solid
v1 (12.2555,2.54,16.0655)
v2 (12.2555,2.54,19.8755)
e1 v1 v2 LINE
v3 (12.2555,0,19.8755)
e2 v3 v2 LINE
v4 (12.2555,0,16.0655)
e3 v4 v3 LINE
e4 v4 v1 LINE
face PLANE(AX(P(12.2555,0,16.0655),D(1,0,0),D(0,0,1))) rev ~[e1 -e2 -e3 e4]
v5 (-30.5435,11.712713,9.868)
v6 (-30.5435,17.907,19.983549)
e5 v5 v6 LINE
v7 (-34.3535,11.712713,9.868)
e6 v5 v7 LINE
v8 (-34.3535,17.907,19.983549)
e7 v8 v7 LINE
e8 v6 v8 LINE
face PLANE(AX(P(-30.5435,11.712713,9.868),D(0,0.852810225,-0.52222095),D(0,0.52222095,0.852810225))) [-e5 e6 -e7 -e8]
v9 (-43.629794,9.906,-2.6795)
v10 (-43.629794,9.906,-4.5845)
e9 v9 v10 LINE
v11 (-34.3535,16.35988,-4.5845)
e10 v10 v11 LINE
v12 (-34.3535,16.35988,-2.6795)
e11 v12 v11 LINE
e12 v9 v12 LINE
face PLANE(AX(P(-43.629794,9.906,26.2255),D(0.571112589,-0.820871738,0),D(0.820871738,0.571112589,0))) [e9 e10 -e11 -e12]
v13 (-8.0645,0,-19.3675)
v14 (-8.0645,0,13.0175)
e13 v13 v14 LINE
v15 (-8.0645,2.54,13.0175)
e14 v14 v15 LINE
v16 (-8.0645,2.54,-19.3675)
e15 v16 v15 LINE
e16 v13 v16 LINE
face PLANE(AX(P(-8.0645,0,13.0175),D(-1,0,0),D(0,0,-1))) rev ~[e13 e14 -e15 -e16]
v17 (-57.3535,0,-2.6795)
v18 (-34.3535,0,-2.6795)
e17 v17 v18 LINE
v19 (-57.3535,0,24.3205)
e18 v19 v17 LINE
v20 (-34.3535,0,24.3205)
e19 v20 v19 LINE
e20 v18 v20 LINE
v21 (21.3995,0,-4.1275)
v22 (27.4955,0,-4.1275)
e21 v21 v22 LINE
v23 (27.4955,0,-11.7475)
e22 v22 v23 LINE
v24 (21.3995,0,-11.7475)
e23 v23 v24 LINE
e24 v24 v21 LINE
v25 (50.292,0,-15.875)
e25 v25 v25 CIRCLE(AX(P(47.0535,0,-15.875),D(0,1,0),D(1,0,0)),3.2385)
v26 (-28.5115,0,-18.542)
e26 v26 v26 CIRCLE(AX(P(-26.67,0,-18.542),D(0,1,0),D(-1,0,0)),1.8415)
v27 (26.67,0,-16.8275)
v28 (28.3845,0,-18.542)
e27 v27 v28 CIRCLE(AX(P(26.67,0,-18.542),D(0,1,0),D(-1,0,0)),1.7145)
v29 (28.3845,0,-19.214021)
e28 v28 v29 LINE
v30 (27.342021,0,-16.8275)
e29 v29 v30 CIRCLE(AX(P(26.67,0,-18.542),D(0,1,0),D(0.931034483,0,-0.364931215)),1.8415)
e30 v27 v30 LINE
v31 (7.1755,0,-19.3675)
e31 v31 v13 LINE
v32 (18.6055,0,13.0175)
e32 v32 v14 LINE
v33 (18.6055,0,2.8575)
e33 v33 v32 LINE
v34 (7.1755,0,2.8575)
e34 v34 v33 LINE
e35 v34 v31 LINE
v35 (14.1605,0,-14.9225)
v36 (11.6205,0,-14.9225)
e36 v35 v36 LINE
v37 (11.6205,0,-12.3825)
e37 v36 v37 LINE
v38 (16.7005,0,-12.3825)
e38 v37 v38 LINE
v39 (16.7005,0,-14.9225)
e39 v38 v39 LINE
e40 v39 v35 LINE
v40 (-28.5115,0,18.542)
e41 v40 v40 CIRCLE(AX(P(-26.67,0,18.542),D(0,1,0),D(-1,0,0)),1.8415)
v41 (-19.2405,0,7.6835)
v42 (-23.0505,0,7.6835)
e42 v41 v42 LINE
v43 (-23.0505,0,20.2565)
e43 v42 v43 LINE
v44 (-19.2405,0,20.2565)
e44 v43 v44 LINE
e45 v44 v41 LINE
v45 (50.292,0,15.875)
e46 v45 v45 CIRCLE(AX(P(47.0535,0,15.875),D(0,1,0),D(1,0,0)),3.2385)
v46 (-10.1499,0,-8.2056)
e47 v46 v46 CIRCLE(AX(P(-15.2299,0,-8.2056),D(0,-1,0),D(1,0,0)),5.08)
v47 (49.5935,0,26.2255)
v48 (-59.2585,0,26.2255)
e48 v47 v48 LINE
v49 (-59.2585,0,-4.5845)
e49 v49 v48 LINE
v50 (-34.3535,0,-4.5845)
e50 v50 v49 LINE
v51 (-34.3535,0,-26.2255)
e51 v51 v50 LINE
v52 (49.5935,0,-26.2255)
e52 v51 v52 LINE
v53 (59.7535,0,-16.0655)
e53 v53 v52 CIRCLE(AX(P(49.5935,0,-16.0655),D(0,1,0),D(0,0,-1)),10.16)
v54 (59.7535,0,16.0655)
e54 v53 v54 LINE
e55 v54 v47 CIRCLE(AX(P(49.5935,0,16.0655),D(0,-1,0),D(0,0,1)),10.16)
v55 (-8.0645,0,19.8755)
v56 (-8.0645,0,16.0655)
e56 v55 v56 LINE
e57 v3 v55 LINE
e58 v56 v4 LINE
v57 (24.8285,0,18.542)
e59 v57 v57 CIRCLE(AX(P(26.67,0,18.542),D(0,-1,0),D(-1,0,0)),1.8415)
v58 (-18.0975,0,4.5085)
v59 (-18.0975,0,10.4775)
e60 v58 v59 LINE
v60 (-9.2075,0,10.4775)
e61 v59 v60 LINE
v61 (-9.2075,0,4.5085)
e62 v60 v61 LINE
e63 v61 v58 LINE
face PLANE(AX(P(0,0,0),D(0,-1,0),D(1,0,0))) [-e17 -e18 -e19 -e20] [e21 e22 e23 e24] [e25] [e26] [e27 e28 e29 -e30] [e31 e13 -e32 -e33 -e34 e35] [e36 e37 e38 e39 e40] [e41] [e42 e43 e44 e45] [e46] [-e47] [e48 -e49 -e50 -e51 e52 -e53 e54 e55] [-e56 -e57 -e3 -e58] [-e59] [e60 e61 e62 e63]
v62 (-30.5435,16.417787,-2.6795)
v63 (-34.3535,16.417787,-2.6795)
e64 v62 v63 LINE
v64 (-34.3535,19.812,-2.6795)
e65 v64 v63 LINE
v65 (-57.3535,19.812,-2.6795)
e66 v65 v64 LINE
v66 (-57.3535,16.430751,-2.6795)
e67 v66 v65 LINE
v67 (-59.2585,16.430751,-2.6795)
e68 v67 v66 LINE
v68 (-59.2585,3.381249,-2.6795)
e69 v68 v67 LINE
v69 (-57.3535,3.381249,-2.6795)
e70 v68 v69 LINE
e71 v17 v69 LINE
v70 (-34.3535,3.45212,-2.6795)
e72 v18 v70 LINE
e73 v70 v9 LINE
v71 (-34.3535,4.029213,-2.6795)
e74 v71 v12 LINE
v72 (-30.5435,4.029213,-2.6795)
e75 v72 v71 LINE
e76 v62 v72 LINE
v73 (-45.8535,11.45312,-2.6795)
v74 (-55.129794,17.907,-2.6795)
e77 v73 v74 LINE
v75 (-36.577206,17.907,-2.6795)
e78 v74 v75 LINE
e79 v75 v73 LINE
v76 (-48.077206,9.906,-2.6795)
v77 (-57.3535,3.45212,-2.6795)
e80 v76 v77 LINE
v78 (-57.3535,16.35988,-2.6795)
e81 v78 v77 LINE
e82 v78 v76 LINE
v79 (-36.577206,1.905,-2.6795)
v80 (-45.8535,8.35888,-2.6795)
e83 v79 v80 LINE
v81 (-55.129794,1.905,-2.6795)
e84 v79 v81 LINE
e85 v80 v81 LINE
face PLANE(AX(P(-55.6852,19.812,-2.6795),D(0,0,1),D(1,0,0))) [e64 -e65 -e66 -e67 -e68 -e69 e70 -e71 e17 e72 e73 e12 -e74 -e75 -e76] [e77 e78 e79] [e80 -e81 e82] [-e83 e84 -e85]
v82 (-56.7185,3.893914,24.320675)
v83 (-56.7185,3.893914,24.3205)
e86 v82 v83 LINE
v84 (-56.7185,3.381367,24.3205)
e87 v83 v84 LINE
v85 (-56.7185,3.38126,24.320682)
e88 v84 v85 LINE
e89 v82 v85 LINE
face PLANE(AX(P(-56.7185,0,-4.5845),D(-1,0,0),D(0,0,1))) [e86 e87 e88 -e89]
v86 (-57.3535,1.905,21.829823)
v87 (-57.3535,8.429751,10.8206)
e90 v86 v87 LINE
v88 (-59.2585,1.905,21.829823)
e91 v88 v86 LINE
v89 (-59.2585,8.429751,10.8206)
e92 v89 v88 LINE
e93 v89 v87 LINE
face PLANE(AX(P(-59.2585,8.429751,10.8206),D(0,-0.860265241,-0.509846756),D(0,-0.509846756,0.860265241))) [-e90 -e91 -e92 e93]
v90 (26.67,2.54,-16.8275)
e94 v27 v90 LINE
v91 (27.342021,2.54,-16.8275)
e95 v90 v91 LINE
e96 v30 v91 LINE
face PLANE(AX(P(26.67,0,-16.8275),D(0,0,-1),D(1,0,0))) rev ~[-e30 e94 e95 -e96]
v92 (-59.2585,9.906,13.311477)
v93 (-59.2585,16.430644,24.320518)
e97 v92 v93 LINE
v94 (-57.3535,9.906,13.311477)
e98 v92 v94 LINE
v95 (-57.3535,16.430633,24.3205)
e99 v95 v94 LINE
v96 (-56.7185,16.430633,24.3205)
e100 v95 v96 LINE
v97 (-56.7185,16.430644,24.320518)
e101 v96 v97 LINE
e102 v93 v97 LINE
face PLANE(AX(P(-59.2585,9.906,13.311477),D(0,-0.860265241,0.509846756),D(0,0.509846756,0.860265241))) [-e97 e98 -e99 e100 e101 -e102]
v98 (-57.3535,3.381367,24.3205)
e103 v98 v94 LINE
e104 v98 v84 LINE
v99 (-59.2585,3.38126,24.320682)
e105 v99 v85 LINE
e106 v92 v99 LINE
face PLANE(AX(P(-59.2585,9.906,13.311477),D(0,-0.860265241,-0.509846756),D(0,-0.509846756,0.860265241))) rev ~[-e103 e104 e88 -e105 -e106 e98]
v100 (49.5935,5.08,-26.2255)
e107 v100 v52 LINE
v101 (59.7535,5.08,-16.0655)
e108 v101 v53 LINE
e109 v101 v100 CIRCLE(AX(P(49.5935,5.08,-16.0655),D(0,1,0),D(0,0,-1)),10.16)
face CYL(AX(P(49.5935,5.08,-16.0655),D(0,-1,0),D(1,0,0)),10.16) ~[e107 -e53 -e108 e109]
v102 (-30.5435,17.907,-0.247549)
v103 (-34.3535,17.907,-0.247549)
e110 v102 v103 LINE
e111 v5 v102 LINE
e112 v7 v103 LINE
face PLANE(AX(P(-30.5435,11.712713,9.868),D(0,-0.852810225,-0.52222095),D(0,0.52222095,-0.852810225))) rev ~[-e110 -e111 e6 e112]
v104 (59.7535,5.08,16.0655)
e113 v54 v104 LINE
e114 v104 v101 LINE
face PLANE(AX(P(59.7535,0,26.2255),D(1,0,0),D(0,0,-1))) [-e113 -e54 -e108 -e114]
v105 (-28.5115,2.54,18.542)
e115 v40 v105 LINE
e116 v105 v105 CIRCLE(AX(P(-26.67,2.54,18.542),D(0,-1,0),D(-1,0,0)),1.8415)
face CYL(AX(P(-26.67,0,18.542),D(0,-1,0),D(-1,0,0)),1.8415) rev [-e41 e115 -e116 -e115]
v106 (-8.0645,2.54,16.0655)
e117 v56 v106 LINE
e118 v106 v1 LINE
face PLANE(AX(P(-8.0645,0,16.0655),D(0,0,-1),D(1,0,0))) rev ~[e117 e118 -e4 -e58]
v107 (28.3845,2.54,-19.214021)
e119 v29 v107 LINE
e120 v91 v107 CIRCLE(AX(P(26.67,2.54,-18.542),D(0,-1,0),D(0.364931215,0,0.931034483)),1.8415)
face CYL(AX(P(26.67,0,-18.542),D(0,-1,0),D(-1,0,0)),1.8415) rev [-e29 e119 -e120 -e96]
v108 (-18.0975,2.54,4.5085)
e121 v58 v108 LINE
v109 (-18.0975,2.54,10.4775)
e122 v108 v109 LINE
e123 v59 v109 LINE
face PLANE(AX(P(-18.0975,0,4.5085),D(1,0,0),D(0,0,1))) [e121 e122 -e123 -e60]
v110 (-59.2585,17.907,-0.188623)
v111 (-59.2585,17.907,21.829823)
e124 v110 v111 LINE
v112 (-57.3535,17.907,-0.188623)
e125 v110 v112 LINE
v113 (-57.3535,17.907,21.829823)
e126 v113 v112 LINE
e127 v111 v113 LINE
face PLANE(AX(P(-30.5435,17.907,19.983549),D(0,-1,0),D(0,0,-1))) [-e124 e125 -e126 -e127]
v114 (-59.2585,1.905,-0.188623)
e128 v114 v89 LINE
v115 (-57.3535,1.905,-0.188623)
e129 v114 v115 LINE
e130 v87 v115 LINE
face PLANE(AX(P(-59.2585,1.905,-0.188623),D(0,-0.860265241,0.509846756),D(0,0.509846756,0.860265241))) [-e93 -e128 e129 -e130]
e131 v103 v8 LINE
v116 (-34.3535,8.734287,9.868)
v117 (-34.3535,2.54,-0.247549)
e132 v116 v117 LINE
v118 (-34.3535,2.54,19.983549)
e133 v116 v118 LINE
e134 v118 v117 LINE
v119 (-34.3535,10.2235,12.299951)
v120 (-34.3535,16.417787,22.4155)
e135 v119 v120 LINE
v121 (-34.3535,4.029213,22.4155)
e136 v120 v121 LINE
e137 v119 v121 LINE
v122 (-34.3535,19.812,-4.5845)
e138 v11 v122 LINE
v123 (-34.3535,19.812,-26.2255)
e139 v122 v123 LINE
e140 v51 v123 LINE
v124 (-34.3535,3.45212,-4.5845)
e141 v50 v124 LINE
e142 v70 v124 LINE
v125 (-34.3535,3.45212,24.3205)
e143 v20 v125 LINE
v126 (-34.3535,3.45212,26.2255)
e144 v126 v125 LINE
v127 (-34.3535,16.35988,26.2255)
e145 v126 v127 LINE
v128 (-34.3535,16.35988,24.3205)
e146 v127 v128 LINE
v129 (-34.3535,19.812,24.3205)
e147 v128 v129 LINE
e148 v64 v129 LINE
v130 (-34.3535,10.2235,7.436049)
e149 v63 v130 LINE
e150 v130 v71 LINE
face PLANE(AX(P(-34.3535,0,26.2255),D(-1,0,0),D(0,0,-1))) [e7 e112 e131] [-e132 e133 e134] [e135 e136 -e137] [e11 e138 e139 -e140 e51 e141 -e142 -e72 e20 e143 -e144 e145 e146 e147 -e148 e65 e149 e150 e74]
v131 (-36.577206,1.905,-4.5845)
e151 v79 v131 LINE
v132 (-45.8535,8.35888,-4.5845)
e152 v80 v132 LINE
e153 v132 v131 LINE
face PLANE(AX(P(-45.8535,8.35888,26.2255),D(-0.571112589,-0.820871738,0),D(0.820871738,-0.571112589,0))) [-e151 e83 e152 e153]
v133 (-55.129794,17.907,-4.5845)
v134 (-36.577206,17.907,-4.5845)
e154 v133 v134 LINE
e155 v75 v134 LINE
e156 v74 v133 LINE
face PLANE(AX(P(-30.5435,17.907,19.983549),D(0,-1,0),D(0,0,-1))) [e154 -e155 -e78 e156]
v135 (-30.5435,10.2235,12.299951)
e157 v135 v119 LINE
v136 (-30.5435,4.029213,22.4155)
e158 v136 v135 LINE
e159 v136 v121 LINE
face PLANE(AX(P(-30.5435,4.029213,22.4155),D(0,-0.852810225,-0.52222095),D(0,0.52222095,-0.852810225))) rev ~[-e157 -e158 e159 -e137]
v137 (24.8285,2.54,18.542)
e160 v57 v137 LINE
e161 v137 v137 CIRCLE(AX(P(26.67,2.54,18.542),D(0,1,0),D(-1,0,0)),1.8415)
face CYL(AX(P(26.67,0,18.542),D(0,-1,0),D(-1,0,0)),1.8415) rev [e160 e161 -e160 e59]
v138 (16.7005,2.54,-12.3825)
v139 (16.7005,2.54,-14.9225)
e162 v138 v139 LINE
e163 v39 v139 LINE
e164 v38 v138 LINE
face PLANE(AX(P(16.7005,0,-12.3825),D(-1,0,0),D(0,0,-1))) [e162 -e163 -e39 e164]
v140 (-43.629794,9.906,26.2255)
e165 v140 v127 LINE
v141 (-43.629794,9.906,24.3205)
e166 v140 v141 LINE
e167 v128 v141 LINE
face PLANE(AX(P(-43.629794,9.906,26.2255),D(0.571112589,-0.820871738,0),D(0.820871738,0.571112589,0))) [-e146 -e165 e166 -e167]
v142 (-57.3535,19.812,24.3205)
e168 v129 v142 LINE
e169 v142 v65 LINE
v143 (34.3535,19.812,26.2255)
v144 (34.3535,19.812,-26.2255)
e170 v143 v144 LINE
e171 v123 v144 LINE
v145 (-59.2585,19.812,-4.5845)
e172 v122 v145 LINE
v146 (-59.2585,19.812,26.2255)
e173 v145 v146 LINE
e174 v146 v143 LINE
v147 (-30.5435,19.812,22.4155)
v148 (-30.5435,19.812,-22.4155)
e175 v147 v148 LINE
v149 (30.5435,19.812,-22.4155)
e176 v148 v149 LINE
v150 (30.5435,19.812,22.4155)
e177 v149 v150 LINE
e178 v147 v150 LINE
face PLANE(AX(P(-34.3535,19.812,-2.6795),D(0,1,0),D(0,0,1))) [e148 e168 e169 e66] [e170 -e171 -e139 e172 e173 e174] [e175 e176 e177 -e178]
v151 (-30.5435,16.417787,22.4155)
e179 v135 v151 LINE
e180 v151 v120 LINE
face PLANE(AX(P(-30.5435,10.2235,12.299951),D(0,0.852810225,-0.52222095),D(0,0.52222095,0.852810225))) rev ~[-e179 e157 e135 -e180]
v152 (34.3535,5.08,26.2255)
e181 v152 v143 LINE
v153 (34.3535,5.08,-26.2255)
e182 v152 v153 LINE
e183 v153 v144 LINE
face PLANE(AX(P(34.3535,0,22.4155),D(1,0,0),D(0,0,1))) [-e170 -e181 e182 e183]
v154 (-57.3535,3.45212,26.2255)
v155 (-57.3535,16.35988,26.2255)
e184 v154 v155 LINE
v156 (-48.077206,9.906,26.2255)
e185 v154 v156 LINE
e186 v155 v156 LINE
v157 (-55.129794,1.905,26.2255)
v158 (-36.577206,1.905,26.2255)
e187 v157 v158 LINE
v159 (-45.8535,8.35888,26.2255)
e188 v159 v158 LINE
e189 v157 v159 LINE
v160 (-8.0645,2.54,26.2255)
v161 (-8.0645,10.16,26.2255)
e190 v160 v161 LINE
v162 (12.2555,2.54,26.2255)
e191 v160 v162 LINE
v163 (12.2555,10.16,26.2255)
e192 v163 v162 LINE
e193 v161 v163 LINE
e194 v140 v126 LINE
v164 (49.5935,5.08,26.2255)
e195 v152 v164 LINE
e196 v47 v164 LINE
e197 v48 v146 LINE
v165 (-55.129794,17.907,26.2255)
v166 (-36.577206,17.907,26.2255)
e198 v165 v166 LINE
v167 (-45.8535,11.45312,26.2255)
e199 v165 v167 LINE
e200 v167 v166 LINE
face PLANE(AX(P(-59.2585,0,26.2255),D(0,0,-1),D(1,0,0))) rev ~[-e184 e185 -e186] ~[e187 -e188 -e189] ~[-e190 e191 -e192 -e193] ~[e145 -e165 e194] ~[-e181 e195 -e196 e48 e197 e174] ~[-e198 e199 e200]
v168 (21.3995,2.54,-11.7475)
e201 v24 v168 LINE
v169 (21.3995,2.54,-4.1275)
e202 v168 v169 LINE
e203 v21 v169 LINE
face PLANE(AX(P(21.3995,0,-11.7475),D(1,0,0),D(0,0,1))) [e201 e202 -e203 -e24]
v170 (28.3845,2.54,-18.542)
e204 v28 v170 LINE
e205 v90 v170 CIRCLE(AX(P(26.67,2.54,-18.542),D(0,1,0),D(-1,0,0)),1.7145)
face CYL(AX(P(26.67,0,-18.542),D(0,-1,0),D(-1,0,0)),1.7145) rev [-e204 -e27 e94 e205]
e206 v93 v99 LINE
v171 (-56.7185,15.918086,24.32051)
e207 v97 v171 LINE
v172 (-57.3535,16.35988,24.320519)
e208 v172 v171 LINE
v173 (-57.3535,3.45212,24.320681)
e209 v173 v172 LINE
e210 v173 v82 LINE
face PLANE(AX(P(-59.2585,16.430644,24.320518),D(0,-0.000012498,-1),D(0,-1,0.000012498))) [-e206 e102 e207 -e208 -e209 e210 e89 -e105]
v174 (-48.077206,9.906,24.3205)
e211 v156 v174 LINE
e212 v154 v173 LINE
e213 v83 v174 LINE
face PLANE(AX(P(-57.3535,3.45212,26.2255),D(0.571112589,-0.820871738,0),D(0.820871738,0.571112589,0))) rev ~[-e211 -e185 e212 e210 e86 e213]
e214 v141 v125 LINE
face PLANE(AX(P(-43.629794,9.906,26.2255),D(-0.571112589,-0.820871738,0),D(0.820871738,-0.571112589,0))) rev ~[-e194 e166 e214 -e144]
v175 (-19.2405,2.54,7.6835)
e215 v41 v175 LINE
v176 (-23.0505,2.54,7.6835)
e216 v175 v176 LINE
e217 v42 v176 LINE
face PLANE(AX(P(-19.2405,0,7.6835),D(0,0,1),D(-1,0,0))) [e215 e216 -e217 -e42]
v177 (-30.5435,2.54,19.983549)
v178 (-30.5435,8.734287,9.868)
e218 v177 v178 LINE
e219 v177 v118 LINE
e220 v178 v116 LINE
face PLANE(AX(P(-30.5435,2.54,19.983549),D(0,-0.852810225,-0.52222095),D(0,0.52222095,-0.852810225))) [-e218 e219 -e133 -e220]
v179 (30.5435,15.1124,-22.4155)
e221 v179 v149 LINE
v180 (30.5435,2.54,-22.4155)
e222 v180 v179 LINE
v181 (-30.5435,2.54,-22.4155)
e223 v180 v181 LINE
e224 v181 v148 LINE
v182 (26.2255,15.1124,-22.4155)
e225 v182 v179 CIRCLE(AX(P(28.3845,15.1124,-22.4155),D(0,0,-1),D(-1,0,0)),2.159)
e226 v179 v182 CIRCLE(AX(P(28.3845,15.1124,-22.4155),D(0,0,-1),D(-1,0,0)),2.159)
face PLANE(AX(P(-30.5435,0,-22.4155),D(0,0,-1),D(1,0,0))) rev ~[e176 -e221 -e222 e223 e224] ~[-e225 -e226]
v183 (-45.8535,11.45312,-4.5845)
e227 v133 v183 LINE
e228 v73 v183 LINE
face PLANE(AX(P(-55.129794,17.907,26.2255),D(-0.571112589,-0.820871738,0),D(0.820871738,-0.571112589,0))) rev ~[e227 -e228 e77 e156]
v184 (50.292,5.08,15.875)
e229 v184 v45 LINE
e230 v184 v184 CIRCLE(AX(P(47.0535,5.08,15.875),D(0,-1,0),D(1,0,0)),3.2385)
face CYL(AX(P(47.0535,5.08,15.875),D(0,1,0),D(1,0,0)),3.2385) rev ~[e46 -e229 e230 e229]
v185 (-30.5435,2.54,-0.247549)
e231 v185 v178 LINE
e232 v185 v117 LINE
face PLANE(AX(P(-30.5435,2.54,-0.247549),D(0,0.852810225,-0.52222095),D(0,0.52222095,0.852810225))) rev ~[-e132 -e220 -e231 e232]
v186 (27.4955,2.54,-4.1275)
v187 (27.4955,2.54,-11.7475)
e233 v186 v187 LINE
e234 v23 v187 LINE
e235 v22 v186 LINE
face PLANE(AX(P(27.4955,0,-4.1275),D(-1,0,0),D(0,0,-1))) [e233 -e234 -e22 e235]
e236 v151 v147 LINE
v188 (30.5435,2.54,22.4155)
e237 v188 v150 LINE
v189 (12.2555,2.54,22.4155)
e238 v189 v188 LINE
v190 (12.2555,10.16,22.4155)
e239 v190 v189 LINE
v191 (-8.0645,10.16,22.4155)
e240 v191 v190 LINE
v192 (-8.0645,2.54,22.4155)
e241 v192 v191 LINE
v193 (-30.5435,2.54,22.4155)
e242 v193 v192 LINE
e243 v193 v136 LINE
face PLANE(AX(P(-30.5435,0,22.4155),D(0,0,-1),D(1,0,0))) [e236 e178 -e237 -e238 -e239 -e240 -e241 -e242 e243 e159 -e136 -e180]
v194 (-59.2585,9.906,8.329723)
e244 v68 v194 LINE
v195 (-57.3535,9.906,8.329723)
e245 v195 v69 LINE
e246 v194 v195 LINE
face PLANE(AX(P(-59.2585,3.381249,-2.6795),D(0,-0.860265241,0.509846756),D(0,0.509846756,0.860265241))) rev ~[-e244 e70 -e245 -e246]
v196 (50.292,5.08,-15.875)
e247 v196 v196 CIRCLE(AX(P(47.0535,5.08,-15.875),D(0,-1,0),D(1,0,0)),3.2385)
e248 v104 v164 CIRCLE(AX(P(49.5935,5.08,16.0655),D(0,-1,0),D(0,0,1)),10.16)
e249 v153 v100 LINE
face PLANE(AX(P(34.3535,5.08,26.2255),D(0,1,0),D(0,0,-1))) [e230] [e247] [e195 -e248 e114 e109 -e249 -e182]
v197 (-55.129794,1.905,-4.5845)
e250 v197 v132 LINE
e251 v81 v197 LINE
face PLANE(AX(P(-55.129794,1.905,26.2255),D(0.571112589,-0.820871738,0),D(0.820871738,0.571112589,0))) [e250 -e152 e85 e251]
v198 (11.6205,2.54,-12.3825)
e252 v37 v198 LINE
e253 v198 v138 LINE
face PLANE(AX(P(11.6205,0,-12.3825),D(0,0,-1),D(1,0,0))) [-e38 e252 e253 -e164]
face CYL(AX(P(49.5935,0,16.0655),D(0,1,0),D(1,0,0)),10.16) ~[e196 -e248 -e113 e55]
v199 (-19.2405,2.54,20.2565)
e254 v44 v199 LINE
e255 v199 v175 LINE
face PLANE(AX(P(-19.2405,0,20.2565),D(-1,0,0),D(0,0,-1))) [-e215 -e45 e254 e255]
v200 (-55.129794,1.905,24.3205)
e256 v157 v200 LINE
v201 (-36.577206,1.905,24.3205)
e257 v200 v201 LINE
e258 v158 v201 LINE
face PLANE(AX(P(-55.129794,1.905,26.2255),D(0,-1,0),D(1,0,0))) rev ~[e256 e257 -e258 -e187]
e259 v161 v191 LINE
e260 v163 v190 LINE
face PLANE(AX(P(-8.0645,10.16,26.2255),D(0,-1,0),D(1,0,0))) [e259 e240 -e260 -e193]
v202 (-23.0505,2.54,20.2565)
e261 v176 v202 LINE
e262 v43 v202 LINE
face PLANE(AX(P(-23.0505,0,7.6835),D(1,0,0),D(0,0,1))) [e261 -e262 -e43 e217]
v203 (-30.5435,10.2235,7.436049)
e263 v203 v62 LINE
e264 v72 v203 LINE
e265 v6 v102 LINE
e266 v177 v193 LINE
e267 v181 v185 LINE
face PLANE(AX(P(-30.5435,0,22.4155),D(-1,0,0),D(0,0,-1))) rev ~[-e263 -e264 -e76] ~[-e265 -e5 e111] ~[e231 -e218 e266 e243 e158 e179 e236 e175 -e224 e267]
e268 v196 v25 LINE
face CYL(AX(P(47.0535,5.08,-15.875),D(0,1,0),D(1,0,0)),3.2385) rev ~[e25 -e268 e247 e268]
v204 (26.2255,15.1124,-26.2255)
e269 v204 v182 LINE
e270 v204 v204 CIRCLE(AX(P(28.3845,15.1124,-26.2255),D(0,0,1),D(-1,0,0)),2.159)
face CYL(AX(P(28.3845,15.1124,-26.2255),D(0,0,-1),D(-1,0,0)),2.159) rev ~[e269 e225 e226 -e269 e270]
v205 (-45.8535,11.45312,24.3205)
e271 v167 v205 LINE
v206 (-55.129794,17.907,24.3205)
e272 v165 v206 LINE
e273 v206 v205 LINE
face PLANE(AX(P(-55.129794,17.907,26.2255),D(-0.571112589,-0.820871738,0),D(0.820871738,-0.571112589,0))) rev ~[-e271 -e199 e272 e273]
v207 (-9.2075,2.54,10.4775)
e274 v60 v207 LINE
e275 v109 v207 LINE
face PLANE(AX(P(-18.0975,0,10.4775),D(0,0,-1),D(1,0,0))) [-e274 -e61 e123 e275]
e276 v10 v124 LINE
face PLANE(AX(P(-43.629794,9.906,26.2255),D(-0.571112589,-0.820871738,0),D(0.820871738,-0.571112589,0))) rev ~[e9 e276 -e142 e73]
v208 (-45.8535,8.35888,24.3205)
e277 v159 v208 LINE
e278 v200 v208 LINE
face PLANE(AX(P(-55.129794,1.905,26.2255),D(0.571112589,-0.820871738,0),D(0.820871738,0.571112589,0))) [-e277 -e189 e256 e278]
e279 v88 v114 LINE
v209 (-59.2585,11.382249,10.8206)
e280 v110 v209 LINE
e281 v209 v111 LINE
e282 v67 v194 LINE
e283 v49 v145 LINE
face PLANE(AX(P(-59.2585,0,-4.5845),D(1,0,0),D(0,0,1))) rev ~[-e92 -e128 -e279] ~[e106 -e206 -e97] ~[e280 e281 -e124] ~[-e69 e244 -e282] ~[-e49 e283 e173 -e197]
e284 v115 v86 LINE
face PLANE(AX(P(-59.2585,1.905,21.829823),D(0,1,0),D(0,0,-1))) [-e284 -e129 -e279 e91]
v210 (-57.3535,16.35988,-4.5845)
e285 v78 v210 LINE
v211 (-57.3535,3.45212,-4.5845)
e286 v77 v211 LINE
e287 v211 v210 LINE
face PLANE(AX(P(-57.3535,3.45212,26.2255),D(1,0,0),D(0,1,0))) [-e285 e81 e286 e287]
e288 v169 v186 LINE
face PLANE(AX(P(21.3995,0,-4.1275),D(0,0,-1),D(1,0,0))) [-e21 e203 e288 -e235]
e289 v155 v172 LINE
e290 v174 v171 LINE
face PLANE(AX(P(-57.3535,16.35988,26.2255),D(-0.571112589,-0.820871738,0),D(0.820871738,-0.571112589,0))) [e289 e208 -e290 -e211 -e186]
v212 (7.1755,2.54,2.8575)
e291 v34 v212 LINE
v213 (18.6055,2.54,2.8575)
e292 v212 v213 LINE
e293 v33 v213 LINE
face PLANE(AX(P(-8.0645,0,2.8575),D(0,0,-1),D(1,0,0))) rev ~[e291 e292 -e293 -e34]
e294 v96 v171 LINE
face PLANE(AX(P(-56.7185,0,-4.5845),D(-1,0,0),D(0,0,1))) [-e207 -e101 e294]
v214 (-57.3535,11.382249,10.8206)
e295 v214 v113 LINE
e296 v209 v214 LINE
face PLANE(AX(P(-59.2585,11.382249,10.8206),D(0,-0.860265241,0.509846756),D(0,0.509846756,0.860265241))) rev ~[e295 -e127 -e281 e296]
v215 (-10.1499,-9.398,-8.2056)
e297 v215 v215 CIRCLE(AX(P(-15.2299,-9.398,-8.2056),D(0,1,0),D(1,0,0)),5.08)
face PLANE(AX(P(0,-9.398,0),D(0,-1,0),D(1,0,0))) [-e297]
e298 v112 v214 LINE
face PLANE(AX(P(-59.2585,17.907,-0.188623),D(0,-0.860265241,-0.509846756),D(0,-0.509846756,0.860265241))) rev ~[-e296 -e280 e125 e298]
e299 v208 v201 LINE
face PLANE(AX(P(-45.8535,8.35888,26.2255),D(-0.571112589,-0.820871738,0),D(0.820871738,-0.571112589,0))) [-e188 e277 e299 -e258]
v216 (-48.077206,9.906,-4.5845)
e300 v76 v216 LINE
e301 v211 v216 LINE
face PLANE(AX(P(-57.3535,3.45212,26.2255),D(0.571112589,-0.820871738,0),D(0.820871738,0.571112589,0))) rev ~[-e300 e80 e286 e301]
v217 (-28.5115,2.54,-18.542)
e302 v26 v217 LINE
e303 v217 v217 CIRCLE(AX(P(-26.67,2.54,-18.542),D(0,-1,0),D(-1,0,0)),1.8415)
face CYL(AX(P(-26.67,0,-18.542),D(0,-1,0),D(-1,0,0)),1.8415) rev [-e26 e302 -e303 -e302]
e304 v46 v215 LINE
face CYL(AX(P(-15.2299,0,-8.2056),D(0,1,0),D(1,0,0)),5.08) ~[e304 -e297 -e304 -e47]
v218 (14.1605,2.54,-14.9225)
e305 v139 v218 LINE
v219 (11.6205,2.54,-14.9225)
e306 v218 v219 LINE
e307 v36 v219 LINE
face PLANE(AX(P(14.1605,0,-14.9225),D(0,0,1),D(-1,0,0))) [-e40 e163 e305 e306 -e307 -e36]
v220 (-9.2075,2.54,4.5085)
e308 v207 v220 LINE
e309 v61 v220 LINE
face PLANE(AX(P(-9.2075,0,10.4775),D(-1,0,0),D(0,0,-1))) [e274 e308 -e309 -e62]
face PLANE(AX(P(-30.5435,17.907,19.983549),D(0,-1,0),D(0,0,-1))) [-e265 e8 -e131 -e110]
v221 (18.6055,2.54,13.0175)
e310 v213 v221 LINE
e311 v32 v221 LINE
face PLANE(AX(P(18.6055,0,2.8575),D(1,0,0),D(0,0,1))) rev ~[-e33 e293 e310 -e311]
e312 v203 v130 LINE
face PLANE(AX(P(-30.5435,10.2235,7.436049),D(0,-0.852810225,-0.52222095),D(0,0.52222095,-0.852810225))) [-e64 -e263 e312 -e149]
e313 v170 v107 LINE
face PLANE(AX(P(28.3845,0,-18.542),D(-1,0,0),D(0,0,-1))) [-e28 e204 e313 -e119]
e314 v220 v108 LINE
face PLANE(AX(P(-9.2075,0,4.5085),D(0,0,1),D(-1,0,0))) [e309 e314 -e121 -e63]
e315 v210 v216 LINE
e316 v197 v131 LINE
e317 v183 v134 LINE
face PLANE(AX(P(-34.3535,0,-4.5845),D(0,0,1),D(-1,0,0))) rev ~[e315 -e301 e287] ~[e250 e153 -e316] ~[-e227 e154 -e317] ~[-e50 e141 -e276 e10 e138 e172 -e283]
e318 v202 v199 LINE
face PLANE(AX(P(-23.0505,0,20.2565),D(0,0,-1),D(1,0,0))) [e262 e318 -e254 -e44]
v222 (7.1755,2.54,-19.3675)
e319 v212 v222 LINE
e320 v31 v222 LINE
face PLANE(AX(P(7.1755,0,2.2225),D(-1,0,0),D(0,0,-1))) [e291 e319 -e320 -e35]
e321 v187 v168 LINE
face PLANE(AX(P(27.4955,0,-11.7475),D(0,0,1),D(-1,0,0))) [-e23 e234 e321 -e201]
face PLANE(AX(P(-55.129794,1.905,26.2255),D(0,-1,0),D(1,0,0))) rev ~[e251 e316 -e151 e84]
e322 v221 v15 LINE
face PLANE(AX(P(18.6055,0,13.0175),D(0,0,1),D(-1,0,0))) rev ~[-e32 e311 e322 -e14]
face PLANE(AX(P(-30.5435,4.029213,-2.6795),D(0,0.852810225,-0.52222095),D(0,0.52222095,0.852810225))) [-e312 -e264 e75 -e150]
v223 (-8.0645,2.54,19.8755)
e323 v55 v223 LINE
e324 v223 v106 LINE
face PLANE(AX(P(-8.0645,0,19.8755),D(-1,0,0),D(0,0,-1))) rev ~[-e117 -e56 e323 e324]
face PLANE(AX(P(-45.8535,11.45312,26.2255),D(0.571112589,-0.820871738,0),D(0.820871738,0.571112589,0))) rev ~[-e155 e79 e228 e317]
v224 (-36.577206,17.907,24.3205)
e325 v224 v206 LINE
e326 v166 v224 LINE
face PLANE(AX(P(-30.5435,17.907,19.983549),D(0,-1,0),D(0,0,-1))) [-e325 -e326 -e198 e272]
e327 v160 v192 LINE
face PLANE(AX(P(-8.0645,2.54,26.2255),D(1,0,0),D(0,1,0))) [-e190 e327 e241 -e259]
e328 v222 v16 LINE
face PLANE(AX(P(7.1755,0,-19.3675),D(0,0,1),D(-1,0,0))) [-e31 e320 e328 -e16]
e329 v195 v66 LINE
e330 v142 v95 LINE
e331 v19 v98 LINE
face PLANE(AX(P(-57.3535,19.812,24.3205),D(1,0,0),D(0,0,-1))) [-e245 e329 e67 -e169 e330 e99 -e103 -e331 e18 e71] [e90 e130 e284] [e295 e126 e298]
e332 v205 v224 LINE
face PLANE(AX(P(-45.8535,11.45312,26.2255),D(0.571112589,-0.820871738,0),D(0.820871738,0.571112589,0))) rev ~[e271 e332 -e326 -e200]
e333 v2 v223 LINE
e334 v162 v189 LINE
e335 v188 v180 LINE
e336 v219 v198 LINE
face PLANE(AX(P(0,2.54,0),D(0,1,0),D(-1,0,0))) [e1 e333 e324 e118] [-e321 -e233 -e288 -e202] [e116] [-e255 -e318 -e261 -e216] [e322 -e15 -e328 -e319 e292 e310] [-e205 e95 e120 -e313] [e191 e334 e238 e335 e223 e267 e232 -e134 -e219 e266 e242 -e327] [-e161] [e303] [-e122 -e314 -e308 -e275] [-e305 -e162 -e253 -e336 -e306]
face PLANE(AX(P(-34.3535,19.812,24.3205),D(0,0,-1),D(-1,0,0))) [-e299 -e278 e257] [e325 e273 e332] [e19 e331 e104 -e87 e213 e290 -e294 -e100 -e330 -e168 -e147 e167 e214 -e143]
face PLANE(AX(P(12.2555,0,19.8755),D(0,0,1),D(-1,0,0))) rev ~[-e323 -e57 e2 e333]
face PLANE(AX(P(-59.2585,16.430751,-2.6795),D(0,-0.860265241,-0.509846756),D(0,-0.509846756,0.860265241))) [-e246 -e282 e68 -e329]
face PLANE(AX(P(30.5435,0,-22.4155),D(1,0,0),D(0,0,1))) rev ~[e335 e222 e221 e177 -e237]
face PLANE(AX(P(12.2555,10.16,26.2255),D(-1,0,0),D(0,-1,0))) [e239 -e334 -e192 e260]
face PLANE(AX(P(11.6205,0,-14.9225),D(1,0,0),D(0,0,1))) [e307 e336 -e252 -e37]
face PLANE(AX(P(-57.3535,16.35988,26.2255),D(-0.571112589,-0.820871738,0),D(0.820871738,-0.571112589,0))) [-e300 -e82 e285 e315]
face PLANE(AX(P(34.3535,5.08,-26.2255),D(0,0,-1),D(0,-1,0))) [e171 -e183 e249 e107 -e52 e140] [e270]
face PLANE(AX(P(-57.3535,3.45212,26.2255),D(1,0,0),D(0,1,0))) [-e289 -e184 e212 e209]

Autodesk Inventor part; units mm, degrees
ref_plane "YZ Plane" through (0, 0, 0) normal (1, 0, 0) x (0, 1, 0)
ref_plane "XZ Plane" through (0, 0, 0) normal (0, 1, 0) x (-1, 0, 0)
ref_plane "XY Plane" through (0, 0, 0) normal (0, 0, 1) x (1, 0, 0)
sketch "Sketch1" plane through (0, 0, 0) normal (0, 1, 0) x (-1, 0, 0)
  line L0 (-30.0355, 21.9075) -> (30.0355, 21.9075)
  line L1 (30.0355, 21.9075) -> (30.0355, -21.9075)
  line L2 (30.0355, -21.9075) -> (-30.0355, -21.9075)
  line L3 (-30.0355, -21.9075) -> (-30.0355, 21.9075)
  line L4 (-30.0355, 21.9075) -> (30.0355, -21.9075) construction
  line L5 (30.0355, 21.9075) -> (-30.0355, -21.9075) construction
  line L6 (-30.5435, -22.4155) -> (30.5435, -22.4155)
  line L7 (30.5435, -22.4155) -> (30.5435, 22.4155)
  line L8 (30.5435, 22.4155) -> (-30.5435, 22.4155)
  line L9 (-30.5435, 22.4155) -> (-30.5435, -22.4155)
  line L10 (-28.3845, -20.2565) -> (28.3845, -20.2565)
  line L11 (28.3845, -20.2565) -> (28.3845, 20.2565)
  line L12 (28.3845, 20.2565) -> (-28.3845, 20.2565)
  line L13 (-28.3845, 20.2565) -> (-28.3845, -20.2565)
  line L14 (28.3845, -20.2565) -> (24.9555, -20.2565)
  line L15 (24.9555, -20.2565) -> (24.9555, -16.8275)
  line L16 (24.9555, -16.8275) -> (28.3845, -16.8275)
  line L17 (28.3845, -16.8275) -> (28.3845, -20.2565)
  line L18 (-28.3845, -20.2565) -> (-24.9555, -20.2565)
  line L19 (-24.9555, -20.2565) -> (-24.9555, -16.8275)
  line L20 (-24.9555, -16.8275) -> (-28.3845, -16.8275)
  line L21 (-28.3845, -16.8275) -> (-28.3845, -20.2565)
  line L22 (28.3845, 20.2565) -> (24.9555, 20.2565)
  line L23 (24.9555, 20.2565) -> (24.9555, 16.8275)
  line L24 (24.9555, 16.8275) -> (28.3845, 16.8275)
  line L25 (28.3845, 16.8275) -> (28.3845, 20.2565)
  line L26 (-28.3845, 20.2565) -> (-24.9555, 20.2565)
  line L27 (-24.9555, 20.2565) -> (-24.9555, 16.8275)
  line L28 (-24.9555, 16.8275) -> (-28.3845, 16.8275)
  line L29 (-28.3845, 16.8275) -> (-28.3845, 20.2565)
  circle A0 centre (26.67, -18.542) radius 1.7145
  circle A1 centre (-26.67, -18.542) radius 1.7145
  circle A2 centre (-26.67, 18.542) radius 1.7145
  circle A3 centre (26.67, 18.542) radius 1.7145
  circle A4 centre (26.67, -18.542) radius 1.8415
  circle A5 centre (-26.67, -18.542) radius 1.8415
  circle A6 centre (-26.67, 18.542) radius 1.8415
  circle A7 centre (26.67, 18.542) radius 1.8415
  line L30 (-28.3845, -20.2565) -> (-28.3845, -10.0965)
  line L31 (-30.0355, -21.9075) -> (-30.0355, -11.7475)
  line L32 (-30.0355, -11.7475) -> (-27.4955, -11.7475)
  line L33 (-27.4955, -11.7475) -> (-21.3995, -11.7475)
  line L34 (-21.3995, -11.7475) -> (-21.3995, -4.1275)
  line L35 (-21.3995, -4.1275) -> (-27.4955, -4.1275)
  line L36 (-27.4955, -4.1275) -> (-27.4955, -11.7475)
  line L37 (-30.0355, -21.9075) -> (-14.1605, -21.9075)
  line L38 (-14.1605, -21.9075) -> (-14.1605, -13.6525)
  line L39 (-16.7005, -14.9225) -> (-11.6205, -14.9225)
  line L40 (-11.6205, -14.9225) -> (-11.6205, -12.3825)
  line L41 (-11.6205, -12.3825) -> (-16.7005, -12.3825)
  line L42 (-16.7005, -12.3825) -> (-16.7005, -14.9225)
  line L43 (-16.7005, -14.9225) -> (-11.6205, -12.3825) construction
  line L44 (-11.6205, -14.9225) -> (-16.7005, -12.3825) construction
  line L45 (-30.0355, -21.9075) -> (-7.1755, -21.9075)
  line L46 (-7.1755, -21.9075) -> (-7.1755, -19.3675)
  line L47 (-7.1755, -19.3675) -> (8.0645, -19.3675)
  line L48 (8.0645, -19.3675) -> (8.0645, 2.2225)
  line L49 (8.0645, 2.2225) -> (-7.1755, 2.2225)
  line L50 (-7.1755, 2.2225) -> (-7.1755, -19.3675)
  line L51 (-30.0355, 21.9075) -> (-18.6055, 21.9075)
  line L52 (-18.6055, 21.9075) -> (-18.6055, 13.0175)
  line L53 (-18.6055, 13.0175) -> (8.0645, 13.0175)
  line L54 (8.0645, 13.0175) -> (8.0645, 2.8575)
  line L55 (8.0645, 2.8575) -> (-18.6055, 2.8575)
  line L56 (-18.6055, 2.8575) -> (-18.6055, 13.0175)
  line L57 (-30.0355, 21.9075) -> (-12.2555, 21.9075)
  line L58 (-12.2555, 21.9075) -> (-12.2555, 19.8755)
  line L59 (-12.2555, 19.8755) -> (8.0645, 19.8755)
  line L60 (8.0645, 19.8755) -> (8.0645, 16.0655)
  line L61 (8.0645, 16.0655) -> (-12.2555, 16.0655)
  line L62 (-12.2555, 16.0655) -> (-12.2555, 19.8755)
  line L63 (30.0355, 21.9075) -> (23.0505, 21.9075)
  line L64 (23.0505, 21.9075) -> (19.2405, 21.9075)
  line L65 (19.2405, 21.9075) -> (19.2405, 7.6835)
  line L66 (19.2405, 7.6835) -> (23.0505, 7.6835)
  line L67 (23.0505, 7.6835) -> (23.0505, 21.9075)
  line L68 (30.0355, 21.9075) -> (18.0975, 21.9075)
  line L69 (18.0975, 21.9075) -> (18.0975, 10.4775)
  line L70 (18.0975, 10.4775) -> (9.2075, 10.4775)
  line L71 (9.2075, 10.4775) -> (9.2075, 4.5085)
  line L72 (9.2075, 4.5085) -> (18.0975, 4.5085)
  line L73 (18.0975, 4.5085) -> (18.0975, 10.4775)
  point P0 (0, 0)
  point P1 (-28.3845, -19.214)
  point P2 (-28.3845, -18.542)
  point P3 (-26.67, -16.8275)
  point P4 (-27.342, -16.8275)
  point P5 (23.0505, 20.2565)
  point P6 (19.2405, 20.2565)
  dimension "d0" = 60.071
  dimension "d1" = 43.815
  dimension "d2" = 0.508
  dimension "d3" = 1.651
  dimension "d4" = 3.429
  dimension "d5" = 3.429
  dimension "d6" = 3.429
  dimension "d7" = 3.429
  dimension "d8" = 3.429
  dimension "d9" = 3.683
  dimension "d10" = 3.683
  dimension "d11" = 3.683
  dimension "d12" = 3.683
  dimension "d18" = 10.16
  dimension "d19" = 10.16
  dimension "d20" = 2.54
  dimension "d21" = 6.096
  dimension "d22" = 7.62
  dimension "d23" = 15.875
  dimension "d24" = 8.255
  dimension "d25" = 5.08
  dimension "d26" = 2.54
  dimension "d27" = 22.86
  dimension "d28" = 2.54
  dimension "d29" = 15.24
  dimension "d30" = 21.59
  dimension "d31" = 11.43
  dimension "d32" = 8.89
  dimension "d33" = 26.67
  dimension "d34" = 10.16
  dimension "d35" = 17.78
  dimension "d36" = 2.032
  dimension "d37" = 20.32
  dimension "d38" = 3.81
  dimension "d39" = 6.985
  dimension "d40" = 3.81
  dimension "d41" = 14.224
  dimension "d42" = 11.938
  dimension "d43" = 11.43
  dimension "d44" = 8.89
  dimension "d45" = 5.969
extrude "Extrusion1" add sketch "Sketch1" along normal blind 2.54 contours L0 L52 L12 A6 L13 L32 L3 | L0 L58 L12 L52 | L32 L13 A5 L10 L38 L2 L3 | L0 L69 L12 L58 | L12 L65 L66 L67 L23 A7 L24 L11 L16 A4 L15 L10 L19 A5 L20 L13 L28 A6 L27 | L0 L65 L12 L69 | L27 A6 L12 | L38 L10 L46 L2 | L20 A5 L13 | L0 L67 L12 L65 | L46 L10 A4 L11 A7 L12 L67 L0 L1 L2 | L13 A6 L28 | A5 L20 A1 L13 | L13 A5 | A6 L13 L12 | L10 A5 L19 | A5 L10 L13 | L20 L19 A5 | L27 L28 A6 | L15 A4 L10 | L12 A7 L23 | A4 L11 L10 | L15 L16 A4 | L12 L11 A7 | A7 L24 L23 | A4 L16 L11 | L11 L24 A7 | L9 L8 L7 L6
sketch "Sketch2" plane through (0, 0, 0) normal (0, -1, 0) x (1, 0, 0)
  line L0 (-30.5435, 22.4155) -> (30.5435, 22.4155) projected
  line L1 (-30.5435, -22.4155) -> (30.5435, -22.4155)
  line L2 (30.5435, -22.4155) -> (30.5435, 22.4155)
  line L3 (30.5435, 22.4155) -> (-30.5435, 22.4155)
  line L4 (-30.5435, 22.4155) -> (-30.5435, -22.4155)
  line L5 (-30.5435, -22.4155) -> (30.5435, 22.4155) construction
  line L6 (30.5435, -22.4155) -> (-30.5435, 22.4155) construction
  line L7 (-34.3535, -26.2255) -> (34.3535, -26.2255)
  line L8 (34.3535, -26.2255) -> (34.3535, 26.2255)
  line L9 (34.3535, 26.2255) -> (-34.3535, 26.2255)
  line L10 (-34.3535, 26.2255) -> (-34.3535, -26.2255)
  line L11 (-30.5435, 22.4155) -> (-34.3535, 22.4155)
  line L12 (-34.3535, 22.4155) -> (34.3535, 22.4155)
  line L13 (-34.3535, -22.4155) -> (34.3535, -22.4155)
  point P0 (0, 0)
  dimension "d15" = 3.81
extrude "Extrusion2" add sketch "Sketch2" against normal blind 19.812 contours L11 L10 L9 L8 L12 L0 | L4 L13 L10 L11 | L12 L8 L13 L2 | L1 L13 L8 L7 L10
sketch "Sketch3" plane through (-34.3535, 0, 26.2255) normal (0, 0, 1) x (1, 0, 0)
  line L0 (3.81, 2.54) -> (64.897, 2.54) projected
  line L1 (64.897, 2.54) -> (68.707, 2.54)
  line L2 (68.707, 0) -> (68.707, 19.812) projected
  line L3 (64.897, 2.54) -> (64.897, 0)
  line L4 (68.707, 2.54) -> (46.609, 2.54)
  line L5 (46.609, 2.54) -> (26.289, 2.54)
  line L6 (26.289, 2.54) -> (26.289, 10.16)
  line L7 (26.289, 10.16) -> (46.609, 10.16)
  line L8 (46.609, 10.16) -> (46.609, 2.54)
  point P0 (34.3535, 0)
  point P1 (26.289, 2.54)
  dimension "d46" = 22.098
  dimension "d47" = 20.32
  dimension "d48" = 7.62
extrude "Extrusion3" cut sketch "Sketch3" against normal blind 3.81
sketch "Sketch4" plane through (34.3535, 0, 26.2255) normal (1, 0, 0) x (0, 0, -1)
  line L0 (52.451, 0) -> (0, 0) projected
  line L1 (0, 10.16) -> (0, 2.54) projected
  line L2 (52.451, 0) -> (0, 0)
  line L3 (0, 0) -> (0, 5.08)
  line L4 (0, 5.08) -> (52.451, 5.08)
  line L5 (52.451, 5.08) -> (52.451, 0)
  point P0 (26.2255, 0)
  dimension "d51" = 5.08
extrude "Extrusion4" add sketch "Sketch4" along normal blind 25.4
sketch "Sketch5" plane through (34.3535, 5.08, 26.2255) normal (0, 1, 0) x (1, 0, 0)
  line L0 (-68.707, 52.451) -> (25.4, 52.451) projected
  line L1 (0, 0) -> (0, 52.451) projected
  line L2 (25.4, 52.451) -> (0, 52.451)
  line L3 (0, 52.451) -> (0, 0)
  line L4 (0, 0) -> (25.4, 0)
  line L5 (25.4, 0) -> (25.4, 52.451)
  line L6 (12.7, 52.451) -> (12.7, 0)
  line L7 (25.4, 26.2255) -> (0, 26.2255)
  line L8 (0, 10.3505) -> (25.4, 10.3505)
  line L9 (25.4, 10.3505) -> (25.4, 42.1005)
  line L10 (25.4, 42.1005) -> (0, 42.1005)
  line L11 (0, 42.1005) -> (0, 10.3505)
  line L12 (0, 10.3505) -> (25.4, 42.1005) construction
  line L13 (25.4, 10.3505) -> (0, 42.1005) construction
  circle A0 centre (12.7, 42.1005) radius 3.2385
  circle A1 centre (12.7, 10.3505) radius 3.2385
  point P0 (-34.3535, 26.2255)
  point P1 (12.7, 26.2255)
  dimension "d54" = 25.4
  dimension "d55" = 31.75
  dimension "d56" = 6.477
  dimension "d57" = 6.477
extrude "Extrusion5" cut sketch "Sketch5" against normal blind 25.4 contours A0 L10 L6 | L6 L10 A0 | L10 L6 A0 | L10 A0 L6 | A1 L6 L8 | L8 L6 A1 | A1 L8 L6 | L8 A1 L6
fillet "Fillet1" radius 10.16 2 edges at (59.7535, 2.54, -26.2255) (59.7535, 2.54, 26.2255)
sketch "Sketch6" plane through (0, 0, 0) normal (0, -1, 0) x (1, 0, 0)
  circle A0 centre (-26.67, -18.542) radius 1.8415 projected
  line L0 (-24.8285, -18.542) -> (-5.6313, -18.542)
  line L1 (-5.6313, -18.542) -> (-5.6313, 2.1308)
  line L2 (-5.6313, 2.1308) -> (-24.8285, 2.1308)
  line L3 (-24.8285, 2.1308) -> (-24.8285, -18.542)
  line L4 (-5.6313, -8.2056) -> (-24.8285, -8.2056)
  line L5 (-15.2299, -18.542) -> (-15.2299, 2.1308)
  circle A1 centre (-15.2299, -8.2056) radius 5.08
  point P0 (0, 0)
  dimension "d61" = 10.16
extrude "Extrusion6" add sketch "Sketch6" along normal blind 9.398 contours A1 L4 L5 | L5 L4 A1 | A1 L5 L4 | L5 A1 L4
sketch "Sketch7" plane through (0, 0, 0) normal (0, -1, 0) x (1, 0, 0)
  line L0 (-8.0645, 2.2225) -> (-8.0645, -19.3675) projected
  line L1 (-8.0645, 2.2225) -> (-8.0645, 2.8575)
  line L2 (-8.0645, 2.8575) -> (18.6055, 2.8575) projected
  line L3 (7.1755, -19.3675) -> (7.1755, 2.2225) projected
  line L4 (7.1755, 2.2225) -> (-8.0645, 2.2225)
  line L5 (-8.0645, 2.2225) -> (-8.0645, 2.8575)
  line L6 (-8.0645, 2.8575) -> (7.1755, 2.8575)
  line L7 (7.1755, 2.8575) -> (7.1755, 2.2225)
  point P0 (0, 0)
  point P1 (7.1755, 2.8575)
extrude "Extrusion7" cut sketch "Sketch7" against normal blind 9.398
sketch "Sketch8" plane through (34.3535, 19.812, -26.2255) normal (0, 0, -1) x (-1, 0, 0)
  line L0 (22.098, -17.272) -> (3.81, -17.272) projected
  line L1 (3.81, 0) -> (64.897, 0) projected
  line L2 (3.81, -17.272) -> (3.81, 0)
  line L3 (59.182, -17.272) -> (62.865, -17.272) projected
  line L4 (3.81, -17.272) -> (62.865, -17.272)
  circle A0 centre (5.969, -4.6996) radius 2.159
  point P0 (34.3535, -19.812)
  dimension "d66" = 4.318
extrude "Extrusion8" cut sketch "Sketch8" against normal blind 25.4
sketch "Sketch9" plane through (0, 0, 0) normal (0, -1, 0) x (1, 0, 0)
  line L0 (-34.3535, 26.2255) -> (-34.3535, 24.3205)
  line L1 (-34.3535, 26.2255) -> (-34.3535, -26.2255) projected
  line L2 (-34.3535, 24.3205) -> (-57.3535, 24.3205)
  line L3 (-57.3535, 24.3205) -> (-57.3535, -2.6795)
  line L4 (-57.3535, -2.6795) -> (-34.3535, -2.6795)
  line L5 (-34.3535, -2.6795) -> (-34.3535, 24.3205)
  line L6 (-59.2585, -4.5845) -> (-59.2585, 26.2255)
  line L7 (-59.2585, 26.2255) -> (-32.4485, 26.2255)
  line L8 (-32.4485, 26.2255) -> (-32.4485, -4.5845)
  line L9 (-32.4485, -4.5845) -> (-59.2585, -4.5845)
  line L10 (-34.3535, 26.2255) -> (-34.3535, -4.5845)
  point P0 (0, 0)
  dimension "d69" = 1.905
  dimension "d70" = 23
  dimension "d71" = 27
  dimension "d72" = 1.905
extrude "Extrusion9" add sketch "Sketch9" against normal up to surface (19.812 mm away) contours L0 L2 L3 L4 L1 L9 L6 L7
sketch "Sketch10" plane through (-34.3535, 0, -2.6795) normal (-1, 0, 0) x (0, 0, 1)
  line L0 (0, 19.812) -> (27, 19.812) projected
  line L1 (0, 19.812) -> (0, 0) projected
  line L2 (27, 19.812) -> (0, 19.812)
  line L3 (0, 19.812) -> (0, 17.907)
  line L4 (0, 17.907) -> (27, 17.907)
  line L5 (27, 17.907) -> (27, 19.812)
  point P0 (2.6795, 0)
  dimension "d75" = 1.905
extrude "Extrusion10" add sketch "Sketch10" along normal up to surface (23 mm away)
sketch "Sketch11" plane through (34.3535, 5.08, 26.2255) normal (0, 0, 1) x (1, 0, 0)
  line L0 (-91.707, 12.827) -> (-68.707, 12.827) projected
  line L1 (-91.707, -5.08) -> (-91.707, 12.827) projected
  line L2 (-68.707, 12.827) -> (-91.707, 12.827)
  line L3 (-91.707, 12.827) -> (-91.707, -3.175)
  line L4 (-91.707, -3.175) -> (-68.707, -3.175)
  line L5 (-68.707, -3.175) -> (-68.707, 12.827)
  line L6 (-91.707, 12.827) -> (-68.707, -3.175)
  line L7 (-91.707, -3.175) -> (-68.707, 12.827)
  line L8 (-90.9817, 13.8695) -> (-67.9817, -2.1325)
  line L9 (-92.4323, 11.7845) -> (-69.4323, -4.2175)
  line L10 (-92.4323, -2.1325) -> (-69.4323, 13.8695)
  line L11 (-90.9817, -4.2175) -> (-67.9817, 11.7845)
  point P0 (-34.3535, -5.08)
  point P1 (-80.207, 3.2789)
  point P2 (-89.4833, -3.175)
  point P3 (-70.9307, -3.175)
  point P4 (-68.707, 11.2799)
  point P5 (-77.9833, 4.826)
  point P6 (-68.707, -1.6279)
  point P7 (-91.707, -1.6279)
  point P8 (-82.4307, 4.826)
  point P9 (-91.707, 11.2799)
  point P10 (-80.207, 6.3731)
  point P11 (-70.9307, 12.827)
  point P12 (-89.4833, 12.827)
  dimension "d78" = 16.002
  dimension "d79" = 1.27
  dimension "d80" = 1.27
  dimension "d81" = 1.27
  dimension "d82" = 1.27
extrude "Extrusion11" cut sketch "Sketch11" against normal blind 50.8 contours L0 L10 L8 | L9 L10 L1 | L5 L8 L11 | L11 L9 L4
sketch "Sketch12" plane through (-59.2585, 0, -4.5845) normal (-1, 0, 0) x (0, 0, 1)
  line L0 (1.905, 17.907) -> (28.905, 17.907) projected
  line L1 (1.905, 17.907) -> (28.9052, 17.907)
  line L2 (28.9052, 17.907) -> (28.9052, 1.905)
  line L3 (28.9052, 1.905) -> (1.905, 1.905)
  line L4 (1.905, 1.905) -> (1.905, 17.907)
  line L5 (1.905, 17.907) -> (28.9052, 1.905)
  line L6 (1.905, 1.905) -> (28.9052, 17.907)
  line L7 (1.2575, 2.9975) -> (28.2577, 18.9995)
  line L8 (2.5525, 0.8125) -> (29.5527, 16.8145)
  line L9 (2.5525, 18.9995) -> (29.5527, 2.9975)
  line L10 (1.2575, 16.8145) -> (28.2577, 0.8125)
  point P0 (4.5845, 0)
  point P1 (26.4143, 1.905)
  point P2 (15.4051, 8.4297)
  point P3 (4.3959, 1.905)
  point P4 (17.896, 9.906)
  point P5 (28.9052, 3.3813)
  point P6 (28.9052, 16.4307)
  point P7 (12.9142, 9.906)
  point P8 (1.905, 16.4307)
  point P9 (1.905, 3.3813)
  point P10 (4.3959, 17.907)
  point P11 (15.4051, 11.3823)
  point P12 (26.4143, 17.907)
  dimension "d85" = 27.0002
  dimension "d86" = 16.002
  dimension "d87" = 1.27
  dimension "d88" = 1.27
  dimension "d89" = 1.27
  dimension "d90" = 1.27
extrude "Extrusion12" cut sketch "Sketch12" against normal blind 2.54 contours L0 L7 L9 | L10 L7 L4 | L2 L9 L8 | L8 L10 L3
sketch "Sketch13" plane through (-30.5435, 2.54, -22.4155) normal (1, 0, 0) x (0, 0, -1)
  line L0 (-44.831, 17.272) -> (-44.831, 15.367)
  line L1 (-19.736, 15.367) -> (-19.736, 13.8199) projected
  line L2 (-44.831, 15.367) -> (-19.736, 15.367)
  line L3 (-19.736, 15.367) -> (-19.736, 0)
  line L4 (0, 0) -> (-44.831, 0) projected
  line L5 (-19.736, 0) -> (-44.831, 0)
  line L6 (-44.831, 0) -> (-44.831, 15.367)
  line L7 (-19.736, 0) -> (-44.831, 15.367)
  line L8 (-44.831, 0) -> (-19.736, 15.367)
  line L9 (-20.3992, -1.0831) -> (-45.4942, 14.2839)
  line L10 (-19.0728, 1.0831) -> (-44.1678, 16.4501)
  line L11 (-45.4942, 1.0831) -> (-20.3992, 16.4501)
  line L12 (-44.1678, -1.0831) -> (-19.0728, 14.2839)
  point P0 (-22.4155, -2.54)
  point P1 (-19.736, 13.8778)
  point P2 (-29.8516, 7.6835)
  point P3 (-19.736, 1.4892)
  point P4 (-32.2835, 9.1727)
  point P5 (-22.1679, 15.367)
  point P6 (-42.3991, 15.367)
  point P7 (-32.2835, 6.1943)
  point P8 (-42.3991, 0)
  point P9 (-22.1679, 0)
  point P10 (-44.831, 1.4892)
  point P11 (-34.7154, 7.6835)
  point P12 (-44.831, 13.8778)
  dimension "d93" = 1.905
  dimension "d94" = 1.27
  dimension "d95" = 1.27
  dimension "d96" = 1.27
  dimension "d97" = 1.27
extrude "Extrusion13" cut sketch "Sketch13" against normal blind 5.08 contours L1 L3 L10 L12 | L11 L10 L2 | L9 L4 L12 | L9 L11 L6
sketch "Sketch14" plane through (0, 19.812, 0) normal (0, 1, 0) x (1, 0, 0)
  line L0 (-34.3535, 2.6795) -> (-34.3535, 4.5845) projected
  line L1 (-57.3535, -21.8298) -> (-57.3535, -24.3205) projected
  line L2 (-34.3535, 2.6795) -> (-57.3535, 2.6795)
  line L3 (-57.3535, 2.6795) -> (-57.3535, -24.3205)
  line L4 (-57.3535, -24.3205) -> (-34.3535, -24.3205)
  line L5 (-34.3535, -24.3205) -> (-34.3535, 2.6795)
  line L6 (-57.3535, 2.6795) -> (-34.3535, -24.3205)
  line L7 (-34.3535, -24.3205) -> (-34.3535, 2.6795) projected
  line L8 (-57.3535, -26.2255) -> (-57.3535, -24.3207) projected
  line L9 (-34.3535, 2.6795) -> (-57.3535, -24.3207)
  line L10 (-56.3867, 3.5031) -> (-33.3867, -23.4969)
  line L11 (-58.3203, 1.8559) -> (-35.3203, -25.1441)
  line L12 (-35.3203, 3.503) -> (-58.6235, -23.8531)
  line L13 (-58.6235, -23.8531) -> (-58.6235, -26.2255)
  line L14 (-33.3867, 1.856) -> (-56.0835, -24.7883)
  line L15 (-56.0835, -24.7883) -> (-56.0835, -26.2255)
  line L16 (-50.9335, -16.7841) -> (-40.7735, -16.7841)
  line L17 (-40.7735, -16.7841) -> (-40.7735, -4.8571)
  line L18 (-40.7735, -4.8571) -> (-50.9335, -4.8571)
  line L19 (-50.9335, -4.8571) -> (-50.9335, -16.7841)
  line L20 (-50.9335, -16.7841) -> (-40.7735, -4.8571) construction
  line L21 (-40.7735, -16.7841) -> (-50.9335, -4.8571) construction
  point P0 (0, 0)
  point P1 (-45.8535, -10.8206)
  point P2 (-42.4417, -16.7841)
  point P3 (-49.2652, -16.7841)
  point P4 (-55.685, -24.3205)
  point P5 (-36.0218, -24.3205)
  point P6 (-40.7735, -6.8156)
  point P7 (-40.7735, -14.8255)
  point P8 (-34.3535, -22.362)
  point P9 (-34.3535, 0.721)
  point P10 (-50.9335, -14.8256)
  point P11 (-50.9335, -6.8155)
  point P12 (-57.3535, 0.721)
  point P13 (-57.3535, -22.3622)
  point P14 (-49.2651, -4.8571)
  point P15 (-42.4418, -4.8571)
  point P16 (-36.0218, 2.6795)
  point P17 (-55.6852, 2.6795)
  dimension "d100" = 1.27
  dimension "d101" = 1.27
  dimension "d102" = 1.27
  dimension "d103" = 1.27
  dimension "d104" = 10.16
extrude "Extrusion14" cut sketch "Sketch14" against normal blind 5.08 contours L3 L11 L19 L12 L1 | L14 L16 L11 L4 | L2 L12 L18 L10 | L10 L17 L14 L5
sketch "Sketch15" plane through (0, 19.812, 0) normal (0, 1, 0) x (1, 0, 0)
  line L0 (-55.6852, 2.6795) -> (-57.3535, 2.6795) projected
  line L1 (-57.3535, 2.6795) -> (-34.3535, 2.6795)
  line L2 (-34.3535, 2.6795) -> (-34.3535, -24.3205)
  line L3 (-34.3535, -24.3205) -> (-57.3535, -24.3205)
  line L4 (-57.3535, -24.3205) -> (-57.3535, 2.6795)
  point P0 (0, 0)
extrude "Extrusion15" cut sketch "Sketch15" against normal blind 25.4
properties part number "Thermostat_mount"
